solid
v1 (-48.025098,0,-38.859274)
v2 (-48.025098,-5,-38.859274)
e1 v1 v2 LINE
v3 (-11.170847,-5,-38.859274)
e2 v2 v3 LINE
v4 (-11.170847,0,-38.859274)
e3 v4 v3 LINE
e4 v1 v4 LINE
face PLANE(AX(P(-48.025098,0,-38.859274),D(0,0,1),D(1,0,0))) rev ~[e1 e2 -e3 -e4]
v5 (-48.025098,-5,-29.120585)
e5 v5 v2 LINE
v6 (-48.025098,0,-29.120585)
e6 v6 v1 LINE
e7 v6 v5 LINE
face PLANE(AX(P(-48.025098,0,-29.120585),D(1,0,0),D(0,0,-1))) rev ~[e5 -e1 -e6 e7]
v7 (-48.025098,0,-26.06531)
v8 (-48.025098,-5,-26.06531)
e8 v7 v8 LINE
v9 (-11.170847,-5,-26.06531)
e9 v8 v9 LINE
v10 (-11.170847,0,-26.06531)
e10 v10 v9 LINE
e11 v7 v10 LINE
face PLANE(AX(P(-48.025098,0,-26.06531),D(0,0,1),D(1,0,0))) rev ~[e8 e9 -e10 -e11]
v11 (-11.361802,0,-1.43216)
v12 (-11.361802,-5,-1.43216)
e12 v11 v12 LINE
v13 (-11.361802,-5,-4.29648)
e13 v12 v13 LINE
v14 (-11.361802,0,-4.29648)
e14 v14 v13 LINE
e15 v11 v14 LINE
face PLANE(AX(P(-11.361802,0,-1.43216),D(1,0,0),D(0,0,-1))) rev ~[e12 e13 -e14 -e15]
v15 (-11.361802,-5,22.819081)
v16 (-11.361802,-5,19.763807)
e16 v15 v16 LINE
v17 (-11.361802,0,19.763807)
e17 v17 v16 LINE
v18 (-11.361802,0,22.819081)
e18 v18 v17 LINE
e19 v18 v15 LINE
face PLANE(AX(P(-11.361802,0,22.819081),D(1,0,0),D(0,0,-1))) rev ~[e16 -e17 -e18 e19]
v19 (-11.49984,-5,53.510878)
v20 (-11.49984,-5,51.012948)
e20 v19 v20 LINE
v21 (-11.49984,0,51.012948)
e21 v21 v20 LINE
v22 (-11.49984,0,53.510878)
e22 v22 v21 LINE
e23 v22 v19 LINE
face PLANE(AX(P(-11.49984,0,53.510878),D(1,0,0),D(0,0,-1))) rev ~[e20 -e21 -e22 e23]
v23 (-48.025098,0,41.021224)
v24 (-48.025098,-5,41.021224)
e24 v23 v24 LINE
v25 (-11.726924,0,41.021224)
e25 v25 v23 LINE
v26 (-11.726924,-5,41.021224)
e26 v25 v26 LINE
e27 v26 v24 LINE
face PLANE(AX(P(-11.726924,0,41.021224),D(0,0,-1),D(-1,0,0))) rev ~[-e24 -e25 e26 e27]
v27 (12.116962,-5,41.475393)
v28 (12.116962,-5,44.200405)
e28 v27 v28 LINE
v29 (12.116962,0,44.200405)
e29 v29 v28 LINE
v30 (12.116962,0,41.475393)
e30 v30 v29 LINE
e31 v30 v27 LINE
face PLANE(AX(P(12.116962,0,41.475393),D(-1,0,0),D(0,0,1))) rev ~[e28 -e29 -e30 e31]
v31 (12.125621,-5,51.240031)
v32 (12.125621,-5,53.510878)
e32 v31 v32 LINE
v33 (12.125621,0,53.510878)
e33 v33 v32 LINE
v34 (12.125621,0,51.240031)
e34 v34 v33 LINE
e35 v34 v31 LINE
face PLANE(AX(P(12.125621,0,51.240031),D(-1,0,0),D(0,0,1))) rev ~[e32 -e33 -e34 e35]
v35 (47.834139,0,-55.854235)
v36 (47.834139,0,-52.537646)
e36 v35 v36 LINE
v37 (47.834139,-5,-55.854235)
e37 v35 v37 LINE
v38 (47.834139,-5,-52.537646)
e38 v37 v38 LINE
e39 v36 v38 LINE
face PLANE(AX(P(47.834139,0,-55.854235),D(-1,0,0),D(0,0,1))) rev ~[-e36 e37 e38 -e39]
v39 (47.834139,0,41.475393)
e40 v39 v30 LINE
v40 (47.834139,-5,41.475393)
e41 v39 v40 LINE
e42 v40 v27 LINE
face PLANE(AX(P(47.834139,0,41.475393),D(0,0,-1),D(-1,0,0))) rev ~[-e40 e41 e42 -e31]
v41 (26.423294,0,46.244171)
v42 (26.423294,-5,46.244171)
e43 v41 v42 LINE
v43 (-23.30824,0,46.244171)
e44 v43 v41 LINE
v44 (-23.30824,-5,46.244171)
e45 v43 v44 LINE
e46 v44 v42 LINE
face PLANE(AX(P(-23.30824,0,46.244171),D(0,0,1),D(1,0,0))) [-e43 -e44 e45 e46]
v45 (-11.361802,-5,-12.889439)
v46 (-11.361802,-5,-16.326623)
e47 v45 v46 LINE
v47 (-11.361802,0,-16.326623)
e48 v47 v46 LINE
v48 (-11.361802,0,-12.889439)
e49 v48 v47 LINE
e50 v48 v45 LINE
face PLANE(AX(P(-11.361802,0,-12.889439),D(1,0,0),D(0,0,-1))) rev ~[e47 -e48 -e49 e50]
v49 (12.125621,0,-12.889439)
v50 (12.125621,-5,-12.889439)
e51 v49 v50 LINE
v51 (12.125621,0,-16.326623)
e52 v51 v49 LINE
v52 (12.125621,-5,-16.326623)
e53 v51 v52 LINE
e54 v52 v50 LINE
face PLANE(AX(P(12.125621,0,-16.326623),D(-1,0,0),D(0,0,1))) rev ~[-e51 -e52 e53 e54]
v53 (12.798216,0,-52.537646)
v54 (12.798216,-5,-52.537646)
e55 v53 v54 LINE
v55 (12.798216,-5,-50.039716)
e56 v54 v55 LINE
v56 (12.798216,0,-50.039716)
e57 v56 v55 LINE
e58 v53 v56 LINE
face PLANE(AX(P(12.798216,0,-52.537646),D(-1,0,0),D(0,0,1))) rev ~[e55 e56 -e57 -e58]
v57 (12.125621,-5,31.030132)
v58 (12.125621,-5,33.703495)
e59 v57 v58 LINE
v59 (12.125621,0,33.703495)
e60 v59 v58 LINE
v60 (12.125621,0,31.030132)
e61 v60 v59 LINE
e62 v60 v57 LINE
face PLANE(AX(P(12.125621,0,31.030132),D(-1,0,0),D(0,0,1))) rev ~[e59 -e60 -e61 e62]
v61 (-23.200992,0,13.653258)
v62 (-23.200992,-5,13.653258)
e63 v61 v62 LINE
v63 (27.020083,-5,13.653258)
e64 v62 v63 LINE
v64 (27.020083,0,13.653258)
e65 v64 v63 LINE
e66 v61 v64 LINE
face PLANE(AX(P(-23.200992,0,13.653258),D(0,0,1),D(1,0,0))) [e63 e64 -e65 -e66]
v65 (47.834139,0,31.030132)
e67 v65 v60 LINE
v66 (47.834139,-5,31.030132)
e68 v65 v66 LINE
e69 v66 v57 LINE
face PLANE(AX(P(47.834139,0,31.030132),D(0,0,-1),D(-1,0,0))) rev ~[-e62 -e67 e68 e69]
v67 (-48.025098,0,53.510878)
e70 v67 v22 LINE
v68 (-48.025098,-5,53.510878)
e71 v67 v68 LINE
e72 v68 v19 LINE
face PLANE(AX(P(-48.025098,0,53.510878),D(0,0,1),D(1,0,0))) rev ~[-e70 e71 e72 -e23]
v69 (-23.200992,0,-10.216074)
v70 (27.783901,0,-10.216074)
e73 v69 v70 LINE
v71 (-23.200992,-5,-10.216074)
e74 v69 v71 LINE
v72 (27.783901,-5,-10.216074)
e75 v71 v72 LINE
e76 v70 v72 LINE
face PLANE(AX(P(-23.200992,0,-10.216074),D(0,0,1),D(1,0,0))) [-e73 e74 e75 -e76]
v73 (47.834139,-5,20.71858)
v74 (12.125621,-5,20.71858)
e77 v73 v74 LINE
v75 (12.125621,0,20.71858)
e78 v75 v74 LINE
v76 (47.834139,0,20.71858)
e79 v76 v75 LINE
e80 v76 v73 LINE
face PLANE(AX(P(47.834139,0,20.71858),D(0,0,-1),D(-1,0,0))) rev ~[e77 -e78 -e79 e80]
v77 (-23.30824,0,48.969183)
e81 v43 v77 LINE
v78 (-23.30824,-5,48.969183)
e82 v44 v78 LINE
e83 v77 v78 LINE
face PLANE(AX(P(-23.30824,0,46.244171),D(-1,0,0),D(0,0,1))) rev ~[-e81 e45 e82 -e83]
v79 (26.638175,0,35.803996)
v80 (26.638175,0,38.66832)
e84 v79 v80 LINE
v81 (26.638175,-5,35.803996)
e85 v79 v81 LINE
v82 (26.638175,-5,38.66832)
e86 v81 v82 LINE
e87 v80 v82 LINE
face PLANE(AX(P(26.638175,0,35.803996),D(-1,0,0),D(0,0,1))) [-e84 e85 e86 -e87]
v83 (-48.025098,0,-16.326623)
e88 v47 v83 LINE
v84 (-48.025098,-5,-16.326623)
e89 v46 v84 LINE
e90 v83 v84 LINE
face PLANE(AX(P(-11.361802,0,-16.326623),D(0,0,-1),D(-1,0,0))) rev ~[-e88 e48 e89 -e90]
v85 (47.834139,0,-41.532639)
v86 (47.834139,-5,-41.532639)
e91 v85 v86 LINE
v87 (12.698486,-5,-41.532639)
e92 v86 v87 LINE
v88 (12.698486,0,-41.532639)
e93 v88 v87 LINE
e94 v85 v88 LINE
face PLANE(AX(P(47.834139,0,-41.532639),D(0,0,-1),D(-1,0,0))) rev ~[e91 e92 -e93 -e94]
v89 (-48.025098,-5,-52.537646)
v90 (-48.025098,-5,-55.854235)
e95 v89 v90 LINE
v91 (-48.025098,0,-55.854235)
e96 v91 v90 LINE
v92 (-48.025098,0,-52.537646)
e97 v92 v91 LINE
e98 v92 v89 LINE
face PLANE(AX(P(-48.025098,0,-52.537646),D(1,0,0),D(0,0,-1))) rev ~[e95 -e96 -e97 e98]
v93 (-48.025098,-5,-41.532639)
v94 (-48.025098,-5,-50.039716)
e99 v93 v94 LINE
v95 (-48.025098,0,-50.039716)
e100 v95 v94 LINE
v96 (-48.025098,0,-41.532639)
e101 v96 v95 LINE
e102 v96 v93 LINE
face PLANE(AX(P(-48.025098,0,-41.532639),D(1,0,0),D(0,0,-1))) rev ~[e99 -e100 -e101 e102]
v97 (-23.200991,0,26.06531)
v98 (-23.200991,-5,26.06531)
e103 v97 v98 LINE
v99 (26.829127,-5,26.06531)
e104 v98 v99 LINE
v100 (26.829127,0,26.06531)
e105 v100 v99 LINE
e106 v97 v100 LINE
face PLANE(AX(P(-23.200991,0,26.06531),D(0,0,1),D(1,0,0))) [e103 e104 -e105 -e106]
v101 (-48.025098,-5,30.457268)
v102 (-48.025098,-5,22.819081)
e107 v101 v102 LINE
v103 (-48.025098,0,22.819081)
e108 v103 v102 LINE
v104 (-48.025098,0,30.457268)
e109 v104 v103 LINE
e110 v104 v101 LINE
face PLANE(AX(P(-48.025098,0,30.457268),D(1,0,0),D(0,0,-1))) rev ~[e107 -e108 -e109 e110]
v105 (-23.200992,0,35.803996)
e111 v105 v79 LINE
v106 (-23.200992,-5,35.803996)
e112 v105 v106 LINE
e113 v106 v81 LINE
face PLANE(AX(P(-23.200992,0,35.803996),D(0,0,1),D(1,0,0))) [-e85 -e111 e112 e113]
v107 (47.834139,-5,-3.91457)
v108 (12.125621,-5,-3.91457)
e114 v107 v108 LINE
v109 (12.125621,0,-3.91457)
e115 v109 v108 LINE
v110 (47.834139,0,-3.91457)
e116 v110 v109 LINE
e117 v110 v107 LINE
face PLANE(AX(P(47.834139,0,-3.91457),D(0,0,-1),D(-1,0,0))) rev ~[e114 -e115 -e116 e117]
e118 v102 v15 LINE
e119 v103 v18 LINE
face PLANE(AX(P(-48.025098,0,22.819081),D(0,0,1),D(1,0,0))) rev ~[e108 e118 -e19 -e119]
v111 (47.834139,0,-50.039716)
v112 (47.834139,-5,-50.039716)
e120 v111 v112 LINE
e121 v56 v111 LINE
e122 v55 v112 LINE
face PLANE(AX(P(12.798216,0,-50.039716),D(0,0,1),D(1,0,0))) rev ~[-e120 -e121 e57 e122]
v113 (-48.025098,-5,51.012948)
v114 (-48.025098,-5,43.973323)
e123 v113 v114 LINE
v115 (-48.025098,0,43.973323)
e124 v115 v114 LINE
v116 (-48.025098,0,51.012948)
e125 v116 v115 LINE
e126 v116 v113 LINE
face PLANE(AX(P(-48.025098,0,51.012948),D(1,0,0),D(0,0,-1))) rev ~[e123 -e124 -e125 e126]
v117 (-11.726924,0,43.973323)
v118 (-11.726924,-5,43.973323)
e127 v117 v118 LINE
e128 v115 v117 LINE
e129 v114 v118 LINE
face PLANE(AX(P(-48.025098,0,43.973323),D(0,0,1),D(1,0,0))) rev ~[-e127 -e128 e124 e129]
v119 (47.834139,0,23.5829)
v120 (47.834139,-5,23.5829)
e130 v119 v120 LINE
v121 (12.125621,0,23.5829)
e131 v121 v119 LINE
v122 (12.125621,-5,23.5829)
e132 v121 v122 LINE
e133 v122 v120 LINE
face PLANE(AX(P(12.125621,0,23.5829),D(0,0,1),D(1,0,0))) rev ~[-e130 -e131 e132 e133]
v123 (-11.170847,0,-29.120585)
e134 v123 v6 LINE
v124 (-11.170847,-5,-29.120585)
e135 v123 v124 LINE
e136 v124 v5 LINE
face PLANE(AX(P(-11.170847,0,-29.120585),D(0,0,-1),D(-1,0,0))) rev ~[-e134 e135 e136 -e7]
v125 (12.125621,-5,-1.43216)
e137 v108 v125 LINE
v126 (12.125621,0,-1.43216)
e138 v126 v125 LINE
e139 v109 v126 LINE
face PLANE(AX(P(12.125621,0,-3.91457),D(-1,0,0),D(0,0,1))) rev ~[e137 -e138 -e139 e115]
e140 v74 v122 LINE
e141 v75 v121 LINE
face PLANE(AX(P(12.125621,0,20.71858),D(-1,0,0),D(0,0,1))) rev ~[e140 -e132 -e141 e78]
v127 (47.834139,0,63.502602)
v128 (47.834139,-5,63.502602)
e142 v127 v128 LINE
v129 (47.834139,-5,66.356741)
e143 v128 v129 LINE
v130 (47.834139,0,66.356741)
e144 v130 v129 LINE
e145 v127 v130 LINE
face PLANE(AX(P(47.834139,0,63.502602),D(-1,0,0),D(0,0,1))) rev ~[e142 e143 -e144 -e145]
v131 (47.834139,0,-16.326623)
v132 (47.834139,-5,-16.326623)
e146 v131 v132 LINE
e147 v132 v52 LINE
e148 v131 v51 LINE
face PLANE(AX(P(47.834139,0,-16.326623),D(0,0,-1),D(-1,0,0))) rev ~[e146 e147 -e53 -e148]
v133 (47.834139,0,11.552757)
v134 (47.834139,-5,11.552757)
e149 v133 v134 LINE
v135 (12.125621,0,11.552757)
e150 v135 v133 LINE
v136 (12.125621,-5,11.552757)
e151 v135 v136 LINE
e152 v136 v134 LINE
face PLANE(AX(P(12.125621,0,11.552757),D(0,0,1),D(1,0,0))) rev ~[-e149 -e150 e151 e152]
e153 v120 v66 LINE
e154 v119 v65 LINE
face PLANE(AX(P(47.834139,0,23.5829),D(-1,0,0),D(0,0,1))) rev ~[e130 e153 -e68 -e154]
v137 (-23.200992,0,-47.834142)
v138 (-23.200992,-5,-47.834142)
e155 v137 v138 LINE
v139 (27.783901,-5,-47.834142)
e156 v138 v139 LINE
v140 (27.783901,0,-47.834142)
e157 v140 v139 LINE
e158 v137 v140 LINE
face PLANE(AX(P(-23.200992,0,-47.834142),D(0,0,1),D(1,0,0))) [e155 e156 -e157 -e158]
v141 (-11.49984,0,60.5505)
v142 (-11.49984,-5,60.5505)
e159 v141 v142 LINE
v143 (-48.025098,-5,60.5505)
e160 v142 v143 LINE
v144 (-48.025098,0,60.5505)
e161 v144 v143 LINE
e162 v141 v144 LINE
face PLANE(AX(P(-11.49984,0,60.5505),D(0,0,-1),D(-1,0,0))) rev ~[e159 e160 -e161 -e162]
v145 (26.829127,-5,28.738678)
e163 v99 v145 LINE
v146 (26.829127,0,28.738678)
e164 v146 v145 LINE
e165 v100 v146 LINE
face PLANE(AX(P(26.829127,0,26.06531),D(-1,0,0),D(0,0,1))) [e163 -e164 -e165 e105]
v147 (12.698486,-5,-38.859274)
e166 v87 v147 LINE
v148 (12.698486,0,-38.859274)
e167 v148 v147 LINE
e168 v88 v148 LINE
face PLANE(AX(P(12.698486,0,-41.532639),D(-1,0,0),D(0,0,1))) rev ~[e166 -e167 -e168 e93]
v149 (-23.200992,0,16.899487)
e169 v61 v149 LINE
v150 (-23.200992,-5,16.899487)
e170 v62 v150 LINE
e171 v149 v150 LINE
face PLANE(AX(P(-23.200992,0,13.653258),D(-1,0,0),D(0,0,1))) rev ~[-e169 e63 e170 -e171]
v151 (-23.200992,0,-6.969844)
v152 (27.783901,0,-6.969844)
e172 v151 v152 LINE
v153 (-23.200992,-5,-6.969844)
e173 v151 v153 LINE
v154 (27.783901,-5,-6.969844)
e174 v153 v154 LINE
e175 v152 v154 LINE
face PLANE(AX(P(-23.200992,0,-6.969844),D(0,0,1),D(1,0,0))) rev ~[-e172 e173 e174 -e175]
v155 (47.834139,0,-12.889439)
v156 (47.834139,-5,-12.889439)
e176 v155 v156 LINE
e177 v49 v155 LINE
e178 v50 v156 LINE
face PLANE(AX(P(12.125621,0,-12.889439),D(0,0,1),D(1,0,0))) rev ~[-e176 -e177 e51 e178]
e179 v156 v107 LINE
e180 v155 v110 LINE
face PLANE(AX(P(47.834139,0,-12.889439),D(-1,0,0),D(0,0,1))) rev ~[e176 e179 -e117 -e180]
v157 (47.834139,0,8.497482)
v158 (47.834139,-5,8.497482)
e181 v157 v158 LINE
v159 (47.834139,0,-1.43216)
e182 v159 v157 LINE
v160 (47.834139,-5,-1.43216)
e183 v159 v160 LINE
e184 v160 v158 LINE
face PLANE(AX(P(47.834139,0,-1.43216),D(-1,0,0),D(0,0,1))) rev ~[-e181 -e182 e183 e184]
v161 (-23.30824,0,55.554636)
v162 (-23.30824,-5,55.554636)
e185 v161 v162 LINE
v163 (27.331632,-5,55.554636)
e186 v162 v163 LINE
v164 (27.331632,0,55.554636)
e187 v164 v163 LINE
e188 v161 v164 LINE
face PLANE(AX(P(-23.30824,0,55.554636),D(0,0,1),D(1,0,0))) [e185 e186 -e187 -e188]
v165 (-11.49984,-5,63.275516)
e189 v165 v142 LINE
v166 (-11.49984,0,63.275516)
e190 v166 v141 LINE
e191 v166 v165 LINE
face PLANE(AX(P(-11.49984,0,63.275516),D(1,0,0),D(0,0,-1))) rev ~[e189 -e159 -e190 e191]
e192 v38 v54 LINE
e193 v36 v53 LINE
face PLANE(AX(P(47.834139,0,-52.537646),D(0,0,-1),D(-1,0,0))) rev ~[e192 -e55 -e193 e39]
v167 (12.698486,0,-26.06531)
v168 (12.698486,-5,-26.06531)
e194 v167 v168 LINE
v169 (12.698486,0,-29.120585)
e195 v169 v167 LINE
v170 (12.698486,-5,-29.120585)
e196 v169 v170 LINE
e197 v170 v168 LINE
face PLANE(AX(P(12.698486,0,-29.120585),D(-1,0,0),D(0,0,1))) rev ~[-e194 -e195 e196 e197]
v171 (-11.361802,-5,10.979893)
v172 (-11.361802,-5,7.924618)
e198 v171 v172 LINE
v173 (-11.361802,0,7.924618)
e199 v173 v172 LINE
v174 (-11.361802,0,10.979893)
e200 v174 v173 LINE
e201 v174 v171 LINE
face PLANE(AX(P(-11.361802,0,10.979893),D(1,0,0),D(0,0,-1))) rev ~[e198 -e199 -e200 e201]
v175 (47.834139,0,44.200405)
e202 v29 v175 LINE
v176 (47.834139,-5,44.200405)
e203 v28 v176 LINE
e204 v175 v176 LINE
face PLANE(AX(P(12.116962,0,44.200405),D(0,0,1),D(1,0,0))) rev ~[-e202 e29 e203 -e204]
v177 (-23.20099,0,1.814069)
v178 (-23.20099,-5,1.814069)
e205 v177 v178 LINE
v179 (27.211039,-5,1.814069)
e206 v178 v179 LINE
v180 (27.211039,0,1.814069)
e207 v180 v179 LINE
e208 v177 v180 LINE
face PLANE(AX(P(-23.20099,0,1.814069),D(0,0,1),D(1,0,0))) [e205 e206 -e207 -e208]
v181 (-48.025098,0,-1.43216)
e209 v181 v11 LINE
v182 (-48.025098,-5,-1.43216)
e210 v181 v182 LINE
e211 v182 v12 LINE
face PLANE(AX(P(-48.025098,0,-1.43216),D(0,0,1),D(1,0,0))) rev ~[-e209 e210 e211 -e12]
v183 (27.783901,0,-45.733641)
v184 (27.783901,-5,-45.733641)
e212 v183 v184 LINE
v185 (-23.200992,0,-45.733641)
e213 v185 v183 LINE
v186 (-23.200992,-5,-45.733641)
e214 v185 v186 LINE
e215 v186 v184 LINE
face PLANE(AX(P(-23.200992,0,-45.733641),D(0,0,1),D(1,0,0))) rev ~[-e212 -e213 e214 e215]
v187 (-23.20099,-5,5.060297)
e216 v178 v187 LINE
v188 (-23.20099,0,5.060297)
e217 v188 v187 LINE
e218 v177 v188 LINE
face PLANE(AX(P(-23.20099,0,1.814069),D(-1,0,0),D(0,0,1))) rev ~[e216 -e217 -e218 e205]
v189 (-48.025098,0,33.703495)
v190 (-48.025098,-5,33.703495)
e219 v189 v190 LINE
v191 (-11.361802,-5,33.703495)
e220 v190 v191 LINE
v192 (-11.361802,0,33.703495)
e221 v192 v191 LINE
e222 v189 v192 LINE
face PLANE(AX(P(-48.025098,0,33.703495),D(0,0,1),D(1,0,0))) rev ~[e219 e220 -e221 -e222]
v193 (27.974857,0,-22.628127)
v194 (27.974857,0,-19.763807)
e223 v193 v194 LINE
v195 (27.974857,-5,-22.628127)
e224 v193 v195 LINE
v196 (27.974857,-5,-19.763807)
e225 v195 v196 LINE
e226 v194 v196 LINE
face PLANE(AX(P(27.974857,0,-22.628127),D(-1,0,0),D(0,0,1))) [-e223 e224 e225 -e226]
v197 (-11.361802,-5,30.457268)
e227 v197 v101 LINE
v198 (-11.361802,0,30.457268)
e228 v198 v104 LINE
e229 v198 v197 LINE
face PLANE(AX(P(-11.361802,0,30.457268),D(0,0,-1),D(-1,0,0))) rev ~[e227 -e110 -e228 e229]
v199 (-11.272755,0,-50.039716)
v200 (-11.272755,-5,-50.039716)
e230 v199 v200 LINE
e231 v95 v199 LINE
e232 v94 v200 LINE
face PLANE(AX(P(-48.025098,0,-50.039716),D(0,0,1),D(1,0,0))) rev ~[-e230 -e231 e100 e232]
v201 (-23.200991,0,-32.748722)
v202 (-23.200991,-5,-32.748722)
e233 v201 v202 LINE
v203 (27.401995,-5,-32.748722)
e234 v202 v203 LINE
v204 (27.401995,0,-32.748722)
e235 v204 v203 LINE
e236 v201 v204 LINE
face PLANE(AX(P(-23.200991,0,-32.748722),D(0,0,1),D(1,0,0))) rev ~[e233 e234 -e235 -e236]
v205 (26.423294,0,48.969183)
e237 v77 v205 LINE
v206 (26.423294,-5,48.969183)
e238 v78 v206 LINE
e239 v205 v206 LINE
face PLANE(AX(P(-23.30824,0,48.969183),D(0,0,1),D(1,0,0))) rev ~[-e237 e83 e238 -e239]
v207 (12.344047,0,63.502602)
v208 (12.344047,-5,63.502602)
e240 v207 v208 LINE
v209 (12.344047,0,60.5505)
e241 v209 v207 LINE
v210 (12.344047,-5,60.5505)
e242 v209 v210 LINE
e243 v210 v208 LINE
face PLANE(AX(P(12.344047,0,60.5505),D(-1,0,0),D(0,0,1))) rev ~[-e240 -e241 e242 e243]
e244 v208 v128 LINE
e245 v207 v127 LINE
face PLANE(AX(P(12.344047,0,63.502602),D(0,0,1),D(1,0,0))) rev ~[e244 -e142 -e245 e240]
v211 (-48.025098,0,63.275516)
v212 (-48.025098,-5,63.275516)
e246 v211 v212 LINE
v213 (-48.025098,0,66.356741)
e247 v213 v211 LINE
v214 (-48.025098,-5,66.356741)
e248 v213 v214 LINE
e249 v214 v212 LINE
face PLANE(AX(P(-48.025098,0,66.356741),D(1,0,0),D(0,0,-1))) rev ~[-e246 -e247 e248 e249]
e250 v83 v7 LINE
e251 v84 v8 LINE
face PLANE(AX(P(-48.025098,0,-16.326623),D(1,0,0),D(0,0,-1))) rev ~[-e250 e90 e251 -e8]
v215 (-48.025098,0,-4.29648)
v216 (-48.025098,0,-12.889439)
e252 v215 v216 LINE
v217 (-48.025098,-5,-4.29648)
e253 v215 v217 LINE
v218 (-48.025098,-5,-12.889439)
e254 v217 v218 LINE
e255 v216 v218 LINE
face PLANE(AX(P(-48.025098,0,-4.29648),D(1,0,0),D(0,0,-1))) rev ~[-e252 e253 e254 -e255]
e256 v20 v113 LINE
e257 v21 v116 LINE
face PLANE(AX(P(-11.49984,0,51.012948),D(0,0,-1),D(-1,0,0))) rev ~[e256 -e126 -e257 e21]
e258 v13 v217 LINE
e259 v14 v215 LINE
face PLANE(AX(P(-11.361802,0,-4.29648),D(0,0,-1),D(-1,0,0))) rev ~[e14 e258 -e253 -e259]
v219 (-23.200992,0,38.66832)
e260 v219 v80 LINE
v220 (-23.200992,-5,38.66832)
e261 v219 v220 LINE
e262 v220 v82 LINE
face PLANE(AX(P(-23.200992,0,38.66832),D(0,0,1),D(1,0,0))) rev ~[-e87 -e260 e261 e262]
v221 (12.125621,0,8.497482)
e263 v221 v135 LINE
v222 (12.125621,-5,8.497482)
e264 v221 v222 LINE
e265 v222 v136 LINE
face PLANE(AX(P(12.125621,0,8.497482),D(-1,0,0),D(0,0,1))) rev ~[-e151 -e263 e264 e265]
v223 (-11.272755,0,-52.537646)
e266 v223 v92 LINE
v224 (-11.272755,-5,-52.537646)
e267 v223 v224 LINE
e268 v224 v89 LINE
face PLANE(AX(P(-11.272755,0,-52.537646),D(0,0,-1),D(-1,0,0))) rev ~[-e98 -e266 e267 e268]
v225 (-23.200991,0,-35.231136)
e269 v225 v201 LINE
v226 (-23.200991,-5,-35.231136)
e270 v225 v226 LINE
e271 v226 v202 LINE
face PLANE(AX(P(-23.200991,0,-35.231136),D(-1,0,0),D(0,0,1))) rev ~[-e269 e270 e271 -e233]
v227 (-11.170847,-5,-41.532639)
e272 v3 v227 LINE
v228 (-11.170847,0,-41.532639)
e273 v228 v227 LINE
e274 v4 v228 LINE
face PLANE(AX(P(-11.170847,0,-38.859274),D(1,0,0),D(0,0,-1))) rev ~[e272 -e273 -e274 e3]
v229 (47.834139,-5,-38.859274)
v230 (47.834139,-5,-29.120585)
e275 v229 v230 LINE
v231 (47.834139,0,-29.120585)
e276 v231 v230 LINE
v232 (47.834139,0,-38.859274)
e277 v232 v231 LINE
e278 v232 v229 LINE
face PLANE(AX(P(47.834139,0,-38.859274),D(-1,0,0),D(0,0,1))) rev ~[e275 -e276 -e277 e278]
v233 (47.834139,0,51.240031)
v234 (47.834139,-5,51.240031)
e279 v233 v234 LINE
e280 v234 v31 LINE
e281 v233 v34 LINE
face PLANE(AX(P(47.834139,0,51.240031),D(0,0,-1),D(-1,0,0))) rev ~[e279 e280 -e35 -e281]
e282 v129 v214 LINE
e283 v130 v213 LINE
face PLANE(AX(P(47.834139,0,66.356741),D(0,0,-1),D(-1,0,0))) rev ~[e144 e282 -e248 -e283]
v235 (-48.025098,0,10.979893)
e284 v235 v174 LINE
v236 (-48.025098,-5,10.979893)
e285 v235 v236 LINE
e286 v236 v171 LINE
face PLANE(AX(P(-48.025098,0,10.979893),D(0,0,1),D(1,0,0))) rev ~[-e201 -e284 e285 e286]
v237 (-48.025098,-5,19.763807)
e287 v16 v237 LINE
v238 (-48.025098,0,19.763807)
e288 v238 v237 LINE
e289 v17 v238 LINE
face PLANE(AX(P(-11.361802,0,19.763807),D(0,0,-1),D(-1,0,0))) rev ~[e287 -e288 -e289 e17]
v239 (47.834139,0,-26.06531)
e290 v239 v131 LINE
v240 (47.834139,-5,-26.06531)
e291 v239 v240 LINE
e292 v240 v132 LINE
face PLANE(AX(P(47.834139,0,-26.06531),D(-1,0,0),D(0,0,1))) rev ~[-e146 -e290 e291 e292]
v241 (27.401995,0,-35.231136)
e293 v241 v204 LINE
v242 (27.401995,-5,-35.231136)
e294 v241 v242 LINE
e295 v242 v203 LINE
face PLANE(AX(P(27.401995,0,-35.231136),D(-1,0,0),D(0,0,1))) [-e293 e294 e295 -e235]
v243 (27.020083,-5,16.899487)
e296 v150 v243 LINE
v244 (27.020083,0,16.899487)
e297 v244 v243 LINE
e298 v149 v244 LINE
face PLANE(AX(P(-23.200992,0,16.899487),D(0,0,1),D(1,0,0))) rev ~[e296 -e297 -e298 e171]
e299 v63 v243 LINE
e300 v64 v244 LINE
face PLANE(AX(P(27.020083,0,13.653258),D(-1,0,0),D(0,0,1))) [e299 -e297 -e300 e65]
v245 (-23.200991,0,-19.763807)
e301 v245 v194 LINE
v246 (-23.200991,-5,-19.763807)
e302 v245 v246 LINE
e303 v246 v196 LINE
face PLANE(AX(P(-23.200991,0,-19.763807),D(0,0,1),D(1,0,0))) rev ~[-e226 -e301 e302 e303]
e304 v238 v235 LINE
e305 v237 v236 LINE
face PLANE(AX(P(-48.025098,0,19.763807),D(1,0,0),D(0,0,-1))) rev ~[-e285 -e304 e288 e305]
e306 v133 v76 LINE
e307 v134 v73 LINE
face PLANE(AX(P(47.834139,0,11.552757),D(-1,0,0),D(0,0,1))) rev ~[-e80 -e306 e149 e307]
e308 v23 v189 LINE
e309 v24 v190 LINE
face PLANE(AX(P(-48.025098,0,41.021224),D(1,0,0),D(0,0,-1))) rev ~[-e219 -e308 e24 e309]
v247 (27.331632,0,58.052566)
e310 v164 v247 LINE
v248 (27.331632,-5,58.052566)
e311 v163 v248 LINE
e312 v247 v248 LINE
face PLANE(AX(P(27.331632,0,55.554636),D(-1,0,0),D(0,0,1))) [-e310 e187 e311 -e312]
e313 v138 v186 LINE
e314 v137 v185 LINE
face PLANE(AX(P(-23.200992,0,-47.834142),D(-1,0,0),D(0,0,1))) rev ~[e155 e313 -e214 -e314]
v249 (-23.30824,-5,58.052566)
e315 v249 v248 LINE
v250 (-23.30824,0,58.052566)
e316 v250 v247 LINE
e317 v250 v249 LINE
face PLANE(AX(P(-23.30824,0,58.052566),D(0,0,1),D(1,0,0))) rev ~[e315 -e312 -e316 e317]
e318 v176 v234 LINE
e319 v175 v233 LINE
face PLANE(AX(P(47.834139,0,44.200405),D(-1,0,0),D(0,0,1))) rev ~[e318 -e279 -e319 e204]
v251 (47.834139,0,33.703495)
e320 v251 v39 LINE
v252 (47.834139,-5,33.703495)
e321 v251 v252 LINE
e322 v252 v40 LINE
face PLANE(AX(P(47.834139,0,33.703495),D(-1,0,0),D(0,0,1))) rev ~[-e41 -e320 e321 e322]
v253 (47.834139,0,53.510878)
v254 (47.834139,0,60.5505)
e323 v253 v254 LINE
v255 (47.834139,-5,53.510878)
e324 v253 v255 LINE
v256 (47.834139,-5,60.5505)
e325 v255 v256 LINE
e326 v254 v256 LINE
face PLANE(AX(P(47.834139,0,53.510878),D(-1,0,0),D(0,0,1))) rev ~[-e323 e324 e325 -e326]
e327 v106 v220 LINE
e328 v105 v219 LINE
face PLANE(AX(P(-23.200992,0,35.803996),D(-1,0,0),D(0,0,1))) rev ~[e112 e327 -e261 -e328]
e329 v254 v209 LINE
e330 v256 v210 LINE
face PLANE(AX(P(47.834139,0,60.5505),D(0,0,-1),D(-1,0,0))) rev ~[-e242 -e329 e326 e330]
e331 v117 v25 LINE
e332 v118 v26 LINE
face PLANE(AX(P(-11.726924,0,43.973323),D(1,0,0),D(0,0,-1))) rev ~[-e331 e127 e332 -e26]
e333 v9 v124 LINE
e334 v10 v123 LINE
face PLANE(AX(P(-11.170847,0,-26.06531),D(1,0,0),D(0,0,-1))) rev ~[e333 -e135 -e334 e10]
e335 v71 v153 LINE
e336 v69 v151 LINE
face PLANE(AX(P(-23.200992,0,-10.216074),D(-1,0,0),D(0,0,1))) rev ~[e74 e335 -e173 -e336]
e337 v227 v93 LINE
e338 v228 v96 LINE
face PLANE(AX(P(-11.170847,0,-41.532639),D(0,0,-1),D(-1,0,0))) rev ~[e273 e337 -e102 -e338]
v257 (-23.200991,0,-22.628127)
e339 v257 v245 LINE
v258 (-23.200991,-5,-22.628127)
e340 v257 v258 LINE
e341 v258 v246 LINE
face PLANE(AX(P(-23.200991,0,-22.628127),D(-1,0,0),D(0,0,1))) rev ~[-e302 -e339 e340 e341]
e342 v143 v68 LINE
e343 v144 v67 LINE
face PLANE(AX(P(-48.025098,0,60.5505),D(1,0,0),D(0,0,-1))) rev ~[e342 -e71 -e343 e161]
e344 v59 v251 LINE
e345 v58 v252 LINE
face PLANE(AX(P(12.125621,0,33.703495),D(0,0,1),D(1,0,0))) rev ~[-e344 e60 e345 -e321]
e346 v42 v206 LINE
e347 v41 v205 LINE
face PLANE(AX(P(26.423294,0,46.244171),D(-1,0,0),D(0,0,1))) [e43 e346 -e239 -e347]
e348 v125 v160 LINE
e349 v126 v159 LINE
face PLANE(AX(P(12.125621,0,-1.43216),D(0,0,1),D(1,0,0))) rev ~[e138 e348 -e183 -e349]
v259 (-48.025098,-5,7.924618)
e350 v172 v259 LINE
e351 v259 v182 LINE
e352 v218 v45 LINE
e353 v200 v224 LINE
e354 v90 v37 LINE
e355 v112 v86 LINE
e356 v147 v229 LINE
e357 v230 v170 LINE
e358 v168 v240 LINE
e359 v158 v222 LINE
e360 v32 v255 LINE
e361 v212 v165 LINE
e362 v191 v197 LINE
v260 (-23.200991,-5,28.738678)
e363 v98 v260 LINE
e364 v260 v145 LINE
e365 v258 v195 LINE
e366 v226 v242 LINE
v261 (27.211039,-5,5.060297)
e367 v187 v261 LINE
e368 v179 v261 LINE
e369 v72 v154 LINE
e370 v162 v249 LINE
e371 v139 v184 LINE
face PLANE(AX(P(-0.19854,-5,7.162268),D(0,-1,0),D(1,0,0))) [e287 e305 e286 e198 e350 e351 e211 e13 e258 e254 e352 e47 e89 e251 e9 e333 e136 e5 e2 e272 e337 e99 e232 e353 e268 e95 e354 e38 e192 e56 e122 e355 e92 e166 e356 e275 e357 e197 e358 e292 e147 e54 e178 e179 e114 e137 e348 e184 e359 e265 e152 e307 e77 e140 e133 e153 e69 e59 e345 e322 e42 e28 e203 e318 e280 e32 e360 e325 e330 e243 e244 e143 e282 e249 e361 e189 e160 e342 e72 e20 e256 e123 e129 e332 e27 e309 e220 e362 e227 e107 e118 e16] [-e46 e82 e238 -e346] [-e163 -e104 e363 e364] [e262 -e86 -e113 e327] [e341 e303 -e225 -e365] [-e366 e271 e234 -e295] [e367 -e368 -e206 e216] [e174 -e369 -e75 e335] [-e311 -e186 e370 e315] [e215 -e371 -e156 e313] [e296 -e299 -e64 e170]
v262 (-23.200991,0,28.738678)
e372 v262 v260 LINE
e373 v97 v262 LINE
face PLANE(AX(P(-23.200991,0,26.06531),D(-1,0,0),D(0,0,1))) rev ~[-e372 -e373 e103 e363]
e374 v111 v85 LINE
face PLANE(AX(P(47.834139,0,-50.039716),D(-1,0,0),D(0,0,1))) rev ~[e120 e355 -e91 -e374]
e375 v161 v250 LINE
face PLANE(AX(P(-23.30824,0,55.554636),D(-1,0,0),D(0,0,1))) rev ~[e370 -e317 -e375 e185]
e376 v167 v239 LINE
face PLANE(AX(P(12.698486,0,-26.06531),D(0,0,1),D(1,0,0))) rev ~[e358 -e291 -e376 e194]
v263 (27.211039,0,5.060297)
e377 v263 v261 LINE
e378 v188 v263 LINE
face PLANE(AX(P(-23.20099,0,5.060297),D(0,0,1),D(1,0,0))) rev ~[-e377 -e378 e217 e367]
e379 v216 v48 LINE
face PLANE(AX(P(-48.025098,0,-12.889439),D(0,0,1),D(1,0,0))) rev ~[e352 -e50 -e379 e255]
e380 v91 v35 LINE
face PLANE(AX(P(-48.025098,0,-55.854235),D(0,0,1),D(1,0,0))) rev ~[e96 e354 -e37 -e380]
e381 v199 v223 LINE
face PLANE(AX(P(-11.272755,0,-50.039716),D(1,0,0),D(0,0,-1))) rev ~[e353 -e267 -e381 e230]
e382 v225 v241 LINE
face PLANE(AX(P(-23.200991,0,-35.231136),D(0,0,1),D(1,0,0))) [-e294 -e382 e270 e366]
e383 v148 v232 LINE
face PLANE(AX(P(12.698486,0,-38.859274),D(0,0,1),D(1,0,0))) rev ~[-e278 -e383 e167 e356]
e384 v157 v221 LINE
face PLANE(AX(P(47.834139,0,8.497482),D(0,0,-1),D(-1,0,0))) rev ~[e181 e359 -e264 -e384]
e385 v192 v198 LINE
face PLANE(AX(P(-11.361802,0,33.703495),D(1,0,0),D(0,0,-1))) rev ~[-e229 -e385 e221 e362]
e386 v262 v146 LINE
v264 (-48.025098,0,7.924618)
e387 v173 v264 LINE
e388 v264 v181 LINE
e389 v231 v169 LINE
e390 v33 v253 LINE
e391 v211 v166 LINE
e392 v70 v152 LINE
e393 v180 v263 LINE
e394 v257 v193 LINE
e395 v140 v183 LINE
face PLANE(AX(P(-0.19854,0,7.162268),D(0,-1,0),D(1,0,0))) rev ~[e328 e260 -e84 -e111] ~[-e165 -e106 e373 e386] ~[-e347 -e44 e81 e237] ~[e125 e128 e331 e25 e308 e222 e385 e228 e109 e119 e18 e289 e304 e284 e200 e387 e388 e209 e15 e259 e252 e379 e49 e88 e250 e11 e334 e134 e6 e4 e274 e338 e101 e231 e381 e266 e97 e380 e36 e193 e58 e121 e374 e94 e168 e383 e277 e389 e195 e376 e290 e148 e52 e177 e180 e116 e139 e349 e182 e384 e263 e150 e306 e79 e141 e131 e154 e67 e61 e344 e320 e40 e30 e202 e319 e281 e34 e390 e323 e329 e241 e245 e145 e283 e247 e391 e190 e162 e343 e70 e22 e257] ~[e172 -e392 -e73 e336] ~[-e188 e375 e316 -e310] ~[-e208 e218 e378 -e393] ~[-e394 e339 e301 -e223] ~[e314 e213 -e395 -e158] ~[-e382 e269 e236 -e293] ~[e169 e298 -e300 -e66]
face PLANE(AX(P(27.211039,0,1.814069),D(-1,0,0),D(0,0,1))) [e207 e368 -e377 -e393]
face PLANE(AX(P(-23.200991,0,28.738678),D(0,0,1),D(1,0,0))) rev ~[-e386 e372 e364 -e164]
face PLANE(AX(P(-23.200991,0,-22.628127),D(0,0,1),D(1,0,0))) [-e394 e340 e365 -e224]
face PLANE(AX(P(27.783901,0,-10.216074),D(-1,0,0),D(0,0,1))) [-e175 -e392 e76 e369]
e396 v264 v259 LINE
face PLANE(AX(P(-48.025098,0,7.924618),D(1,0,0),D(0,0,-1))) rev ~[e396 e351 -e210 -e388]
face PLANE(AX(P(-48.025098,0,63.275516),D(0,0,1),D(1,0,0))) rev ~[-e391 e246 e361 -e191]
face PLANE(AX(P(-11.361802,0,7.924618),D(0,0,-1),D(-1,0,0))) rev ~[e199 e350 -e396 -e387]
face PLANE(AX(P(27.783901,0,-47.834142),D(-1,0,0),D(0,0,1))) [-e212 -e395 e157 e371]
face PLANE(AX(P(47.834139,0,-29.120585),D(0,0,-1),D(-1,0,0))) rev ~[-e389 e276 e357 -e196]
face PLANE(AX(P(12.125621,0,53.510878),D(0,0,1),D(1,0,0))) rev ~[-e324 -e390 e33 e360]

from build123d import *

# Parameters (mm, degrees)
F0_W     = 50.984893
F0_H     = 2.100501
F0_W_2   = 50.602986
F0_H_2   = 2.482414
F0_W_3   = 51.175848
F0_H_3   = 2.86432
F0_H_4   = 3.246229
F0_W_4   = 50.412029
F0_W_5   = 50.221075
F0_W_6   = 50.030118
F0_H_5   = 2.673368
F0_W_7   = 49.839167
F0_H_6   = 2.864324
F0_W_8   = 49.731534
F0_H_7   = 2.725012
F0_W_9   = 50.639872
F0_H_8   = 2.49793
F1_DEPTH = 5


with BuildPart() as f1:
    # F0 (on Front) → F1 (new body)
    with BuildSketch(Plane.XZ):
        Polygon((-48.025098, -52.537646), (-48.025098, -55.854235), (47.834139, -55.854235), (47.834139, -52.537646), (12.798216, -52.537646), (12.798216, -50.039716), (47.834139, -50.039716), (47.834139, -41.532639), (12.698486, -41.532639), (12.698486, -38.859274), (47.834139, -38.859274), (47.834139, -29.120585), (12.698486, -29.120585), (12.698486, -26.06531), (47.834139, -26.06531), (47.834139, -16.326623), (12.125621, -16.326623), (12.125621, -12.889439), (47.834139, -12.889439), (47.834139, -3.91457), (12.125621, -3.91457), (12.125621, -1.43216), (47.834139, -1.43216), (47.834139, 8.497482), (12.125621, 8.497482), (12.125621, 11.552757), (47.834139, 11.552757), (47.834139, 20.71858), (12.125621, 20.71858), (12.125621, 23.5829), (47.834139, 23.5829), (47.834139, 31.030132), (12.125621, 31.030132), (12.125621, 33.703495), (47.834139, 33.703495), (47.834139, 41.475393), (12.116962, 41.475393), (12.116962, 44.200405), (47.834139, 44.200405), (47.834139, 51.240031), (12.125621, 51.240031), (12.125621, 53.510878), (47.834139, 53.510878), (47.834139, 60.5505), (12.344047, 60.5505), (12.344047, 63.502602), (47.834139, 63.502602), (47.834139, 66.356741), (-48.025098, 66.356741), (-48.025098, 63.275516), (-11.49984, 63.275516), (-11.49984, 60.5505), (-48.025098, 60.5505), (-48.025098, 53.510878), (-11.49984, 53.510878), (-11.49984, 51.012948), (-48.025098, 51.012948), (-48.025098, 43.973323), (-11.726924, 43.973323), (-11.726924, 41.021224), (-48.025098, 41.021224), (-48.025098, 33.703495), (-11.361802, 33.703495), (-11.361802, 30.457268), (-48.025098, 30.457268), (-48.025098, 22.819081), (-11.361802, 22.819081), (-11.361802, 19.763807), (-48.025098, 19.763807), (-48.025098, 10.979893), (-11.361802, 10.979893), (-11.361802, 7.924618), (-48.025098, 7.924618), (-48.025098, -1.43216), (-11.361802, -1.43216), (-11.361802, -4.29648), (-48.025098, -4.29648), (-48.025098, -12.889439), (-11.361802, -12.889439), (-11.361802, -16.326623), (-48.025098, -16.326623), (-48.025098, -26.06531), (-11.170847, -26.06531), (-11.170847, -29.120585), (-48.025098, -29.120585), (-48.025098, -38.859274), (-11.170847, -38.859274), (-11.170847, -41.532639), (-48.025098, -41.532639), (-48.025098, -50.039716), (-11.272755, -50.039716), (-11.272755, -52.537646), align=None)
        with Locations((2.291455, -46.783892)):
            Rectangle(F0_W, F0_H, mode=Mode.SUBTRACT)
        with Locations((2.100502, -33.989929)):
            Rectangle(F0_W_2, F0_H_2, mode=Mode.SUBTRACT)
        with Locations((2.386933, -21.195967)):
            Rectangle(F0_W_3, F0_H_3, mode=Mode.SUBTRACT)
        with Locations((2.291455, -8.592959)):
            Rectangle(F0_W, F0_H_4, mode=Mode.SUBTRACT)
        with Locations((2.005024, 3.437183)):
            Rectangle(F0_W_4, F0_H_4, mode=Mode.SUBTRACT)
        with Locations((1.909546, 15.276373)):
            Rectangle(F0_W_5, F0_H_4, mode=Mode.SUBTRACT)
        with Locations((1.814068, 27.401994)):
            Rectangle(F0_W_6, F0_H_5, mode=Mode.SUBTRACT)
        with Locations((1.718592, 37.236158)):
            Rectangle(F0_W_7, F0_H_6, mode=Mode.SUBTRACT)
        with Locations((1.557527, 47.606677)):
            Rectangle(F0_W_8, F0_H_7, mode=Mode.SUBTRACT)
        with Locations((2.011696, 56.803601)):
            Rectangle(F0_W_9, F0_H_8, mode=Mode.SUBTRACT)
    extrude(amount=F1_DEPTH)


solid = f1.part
